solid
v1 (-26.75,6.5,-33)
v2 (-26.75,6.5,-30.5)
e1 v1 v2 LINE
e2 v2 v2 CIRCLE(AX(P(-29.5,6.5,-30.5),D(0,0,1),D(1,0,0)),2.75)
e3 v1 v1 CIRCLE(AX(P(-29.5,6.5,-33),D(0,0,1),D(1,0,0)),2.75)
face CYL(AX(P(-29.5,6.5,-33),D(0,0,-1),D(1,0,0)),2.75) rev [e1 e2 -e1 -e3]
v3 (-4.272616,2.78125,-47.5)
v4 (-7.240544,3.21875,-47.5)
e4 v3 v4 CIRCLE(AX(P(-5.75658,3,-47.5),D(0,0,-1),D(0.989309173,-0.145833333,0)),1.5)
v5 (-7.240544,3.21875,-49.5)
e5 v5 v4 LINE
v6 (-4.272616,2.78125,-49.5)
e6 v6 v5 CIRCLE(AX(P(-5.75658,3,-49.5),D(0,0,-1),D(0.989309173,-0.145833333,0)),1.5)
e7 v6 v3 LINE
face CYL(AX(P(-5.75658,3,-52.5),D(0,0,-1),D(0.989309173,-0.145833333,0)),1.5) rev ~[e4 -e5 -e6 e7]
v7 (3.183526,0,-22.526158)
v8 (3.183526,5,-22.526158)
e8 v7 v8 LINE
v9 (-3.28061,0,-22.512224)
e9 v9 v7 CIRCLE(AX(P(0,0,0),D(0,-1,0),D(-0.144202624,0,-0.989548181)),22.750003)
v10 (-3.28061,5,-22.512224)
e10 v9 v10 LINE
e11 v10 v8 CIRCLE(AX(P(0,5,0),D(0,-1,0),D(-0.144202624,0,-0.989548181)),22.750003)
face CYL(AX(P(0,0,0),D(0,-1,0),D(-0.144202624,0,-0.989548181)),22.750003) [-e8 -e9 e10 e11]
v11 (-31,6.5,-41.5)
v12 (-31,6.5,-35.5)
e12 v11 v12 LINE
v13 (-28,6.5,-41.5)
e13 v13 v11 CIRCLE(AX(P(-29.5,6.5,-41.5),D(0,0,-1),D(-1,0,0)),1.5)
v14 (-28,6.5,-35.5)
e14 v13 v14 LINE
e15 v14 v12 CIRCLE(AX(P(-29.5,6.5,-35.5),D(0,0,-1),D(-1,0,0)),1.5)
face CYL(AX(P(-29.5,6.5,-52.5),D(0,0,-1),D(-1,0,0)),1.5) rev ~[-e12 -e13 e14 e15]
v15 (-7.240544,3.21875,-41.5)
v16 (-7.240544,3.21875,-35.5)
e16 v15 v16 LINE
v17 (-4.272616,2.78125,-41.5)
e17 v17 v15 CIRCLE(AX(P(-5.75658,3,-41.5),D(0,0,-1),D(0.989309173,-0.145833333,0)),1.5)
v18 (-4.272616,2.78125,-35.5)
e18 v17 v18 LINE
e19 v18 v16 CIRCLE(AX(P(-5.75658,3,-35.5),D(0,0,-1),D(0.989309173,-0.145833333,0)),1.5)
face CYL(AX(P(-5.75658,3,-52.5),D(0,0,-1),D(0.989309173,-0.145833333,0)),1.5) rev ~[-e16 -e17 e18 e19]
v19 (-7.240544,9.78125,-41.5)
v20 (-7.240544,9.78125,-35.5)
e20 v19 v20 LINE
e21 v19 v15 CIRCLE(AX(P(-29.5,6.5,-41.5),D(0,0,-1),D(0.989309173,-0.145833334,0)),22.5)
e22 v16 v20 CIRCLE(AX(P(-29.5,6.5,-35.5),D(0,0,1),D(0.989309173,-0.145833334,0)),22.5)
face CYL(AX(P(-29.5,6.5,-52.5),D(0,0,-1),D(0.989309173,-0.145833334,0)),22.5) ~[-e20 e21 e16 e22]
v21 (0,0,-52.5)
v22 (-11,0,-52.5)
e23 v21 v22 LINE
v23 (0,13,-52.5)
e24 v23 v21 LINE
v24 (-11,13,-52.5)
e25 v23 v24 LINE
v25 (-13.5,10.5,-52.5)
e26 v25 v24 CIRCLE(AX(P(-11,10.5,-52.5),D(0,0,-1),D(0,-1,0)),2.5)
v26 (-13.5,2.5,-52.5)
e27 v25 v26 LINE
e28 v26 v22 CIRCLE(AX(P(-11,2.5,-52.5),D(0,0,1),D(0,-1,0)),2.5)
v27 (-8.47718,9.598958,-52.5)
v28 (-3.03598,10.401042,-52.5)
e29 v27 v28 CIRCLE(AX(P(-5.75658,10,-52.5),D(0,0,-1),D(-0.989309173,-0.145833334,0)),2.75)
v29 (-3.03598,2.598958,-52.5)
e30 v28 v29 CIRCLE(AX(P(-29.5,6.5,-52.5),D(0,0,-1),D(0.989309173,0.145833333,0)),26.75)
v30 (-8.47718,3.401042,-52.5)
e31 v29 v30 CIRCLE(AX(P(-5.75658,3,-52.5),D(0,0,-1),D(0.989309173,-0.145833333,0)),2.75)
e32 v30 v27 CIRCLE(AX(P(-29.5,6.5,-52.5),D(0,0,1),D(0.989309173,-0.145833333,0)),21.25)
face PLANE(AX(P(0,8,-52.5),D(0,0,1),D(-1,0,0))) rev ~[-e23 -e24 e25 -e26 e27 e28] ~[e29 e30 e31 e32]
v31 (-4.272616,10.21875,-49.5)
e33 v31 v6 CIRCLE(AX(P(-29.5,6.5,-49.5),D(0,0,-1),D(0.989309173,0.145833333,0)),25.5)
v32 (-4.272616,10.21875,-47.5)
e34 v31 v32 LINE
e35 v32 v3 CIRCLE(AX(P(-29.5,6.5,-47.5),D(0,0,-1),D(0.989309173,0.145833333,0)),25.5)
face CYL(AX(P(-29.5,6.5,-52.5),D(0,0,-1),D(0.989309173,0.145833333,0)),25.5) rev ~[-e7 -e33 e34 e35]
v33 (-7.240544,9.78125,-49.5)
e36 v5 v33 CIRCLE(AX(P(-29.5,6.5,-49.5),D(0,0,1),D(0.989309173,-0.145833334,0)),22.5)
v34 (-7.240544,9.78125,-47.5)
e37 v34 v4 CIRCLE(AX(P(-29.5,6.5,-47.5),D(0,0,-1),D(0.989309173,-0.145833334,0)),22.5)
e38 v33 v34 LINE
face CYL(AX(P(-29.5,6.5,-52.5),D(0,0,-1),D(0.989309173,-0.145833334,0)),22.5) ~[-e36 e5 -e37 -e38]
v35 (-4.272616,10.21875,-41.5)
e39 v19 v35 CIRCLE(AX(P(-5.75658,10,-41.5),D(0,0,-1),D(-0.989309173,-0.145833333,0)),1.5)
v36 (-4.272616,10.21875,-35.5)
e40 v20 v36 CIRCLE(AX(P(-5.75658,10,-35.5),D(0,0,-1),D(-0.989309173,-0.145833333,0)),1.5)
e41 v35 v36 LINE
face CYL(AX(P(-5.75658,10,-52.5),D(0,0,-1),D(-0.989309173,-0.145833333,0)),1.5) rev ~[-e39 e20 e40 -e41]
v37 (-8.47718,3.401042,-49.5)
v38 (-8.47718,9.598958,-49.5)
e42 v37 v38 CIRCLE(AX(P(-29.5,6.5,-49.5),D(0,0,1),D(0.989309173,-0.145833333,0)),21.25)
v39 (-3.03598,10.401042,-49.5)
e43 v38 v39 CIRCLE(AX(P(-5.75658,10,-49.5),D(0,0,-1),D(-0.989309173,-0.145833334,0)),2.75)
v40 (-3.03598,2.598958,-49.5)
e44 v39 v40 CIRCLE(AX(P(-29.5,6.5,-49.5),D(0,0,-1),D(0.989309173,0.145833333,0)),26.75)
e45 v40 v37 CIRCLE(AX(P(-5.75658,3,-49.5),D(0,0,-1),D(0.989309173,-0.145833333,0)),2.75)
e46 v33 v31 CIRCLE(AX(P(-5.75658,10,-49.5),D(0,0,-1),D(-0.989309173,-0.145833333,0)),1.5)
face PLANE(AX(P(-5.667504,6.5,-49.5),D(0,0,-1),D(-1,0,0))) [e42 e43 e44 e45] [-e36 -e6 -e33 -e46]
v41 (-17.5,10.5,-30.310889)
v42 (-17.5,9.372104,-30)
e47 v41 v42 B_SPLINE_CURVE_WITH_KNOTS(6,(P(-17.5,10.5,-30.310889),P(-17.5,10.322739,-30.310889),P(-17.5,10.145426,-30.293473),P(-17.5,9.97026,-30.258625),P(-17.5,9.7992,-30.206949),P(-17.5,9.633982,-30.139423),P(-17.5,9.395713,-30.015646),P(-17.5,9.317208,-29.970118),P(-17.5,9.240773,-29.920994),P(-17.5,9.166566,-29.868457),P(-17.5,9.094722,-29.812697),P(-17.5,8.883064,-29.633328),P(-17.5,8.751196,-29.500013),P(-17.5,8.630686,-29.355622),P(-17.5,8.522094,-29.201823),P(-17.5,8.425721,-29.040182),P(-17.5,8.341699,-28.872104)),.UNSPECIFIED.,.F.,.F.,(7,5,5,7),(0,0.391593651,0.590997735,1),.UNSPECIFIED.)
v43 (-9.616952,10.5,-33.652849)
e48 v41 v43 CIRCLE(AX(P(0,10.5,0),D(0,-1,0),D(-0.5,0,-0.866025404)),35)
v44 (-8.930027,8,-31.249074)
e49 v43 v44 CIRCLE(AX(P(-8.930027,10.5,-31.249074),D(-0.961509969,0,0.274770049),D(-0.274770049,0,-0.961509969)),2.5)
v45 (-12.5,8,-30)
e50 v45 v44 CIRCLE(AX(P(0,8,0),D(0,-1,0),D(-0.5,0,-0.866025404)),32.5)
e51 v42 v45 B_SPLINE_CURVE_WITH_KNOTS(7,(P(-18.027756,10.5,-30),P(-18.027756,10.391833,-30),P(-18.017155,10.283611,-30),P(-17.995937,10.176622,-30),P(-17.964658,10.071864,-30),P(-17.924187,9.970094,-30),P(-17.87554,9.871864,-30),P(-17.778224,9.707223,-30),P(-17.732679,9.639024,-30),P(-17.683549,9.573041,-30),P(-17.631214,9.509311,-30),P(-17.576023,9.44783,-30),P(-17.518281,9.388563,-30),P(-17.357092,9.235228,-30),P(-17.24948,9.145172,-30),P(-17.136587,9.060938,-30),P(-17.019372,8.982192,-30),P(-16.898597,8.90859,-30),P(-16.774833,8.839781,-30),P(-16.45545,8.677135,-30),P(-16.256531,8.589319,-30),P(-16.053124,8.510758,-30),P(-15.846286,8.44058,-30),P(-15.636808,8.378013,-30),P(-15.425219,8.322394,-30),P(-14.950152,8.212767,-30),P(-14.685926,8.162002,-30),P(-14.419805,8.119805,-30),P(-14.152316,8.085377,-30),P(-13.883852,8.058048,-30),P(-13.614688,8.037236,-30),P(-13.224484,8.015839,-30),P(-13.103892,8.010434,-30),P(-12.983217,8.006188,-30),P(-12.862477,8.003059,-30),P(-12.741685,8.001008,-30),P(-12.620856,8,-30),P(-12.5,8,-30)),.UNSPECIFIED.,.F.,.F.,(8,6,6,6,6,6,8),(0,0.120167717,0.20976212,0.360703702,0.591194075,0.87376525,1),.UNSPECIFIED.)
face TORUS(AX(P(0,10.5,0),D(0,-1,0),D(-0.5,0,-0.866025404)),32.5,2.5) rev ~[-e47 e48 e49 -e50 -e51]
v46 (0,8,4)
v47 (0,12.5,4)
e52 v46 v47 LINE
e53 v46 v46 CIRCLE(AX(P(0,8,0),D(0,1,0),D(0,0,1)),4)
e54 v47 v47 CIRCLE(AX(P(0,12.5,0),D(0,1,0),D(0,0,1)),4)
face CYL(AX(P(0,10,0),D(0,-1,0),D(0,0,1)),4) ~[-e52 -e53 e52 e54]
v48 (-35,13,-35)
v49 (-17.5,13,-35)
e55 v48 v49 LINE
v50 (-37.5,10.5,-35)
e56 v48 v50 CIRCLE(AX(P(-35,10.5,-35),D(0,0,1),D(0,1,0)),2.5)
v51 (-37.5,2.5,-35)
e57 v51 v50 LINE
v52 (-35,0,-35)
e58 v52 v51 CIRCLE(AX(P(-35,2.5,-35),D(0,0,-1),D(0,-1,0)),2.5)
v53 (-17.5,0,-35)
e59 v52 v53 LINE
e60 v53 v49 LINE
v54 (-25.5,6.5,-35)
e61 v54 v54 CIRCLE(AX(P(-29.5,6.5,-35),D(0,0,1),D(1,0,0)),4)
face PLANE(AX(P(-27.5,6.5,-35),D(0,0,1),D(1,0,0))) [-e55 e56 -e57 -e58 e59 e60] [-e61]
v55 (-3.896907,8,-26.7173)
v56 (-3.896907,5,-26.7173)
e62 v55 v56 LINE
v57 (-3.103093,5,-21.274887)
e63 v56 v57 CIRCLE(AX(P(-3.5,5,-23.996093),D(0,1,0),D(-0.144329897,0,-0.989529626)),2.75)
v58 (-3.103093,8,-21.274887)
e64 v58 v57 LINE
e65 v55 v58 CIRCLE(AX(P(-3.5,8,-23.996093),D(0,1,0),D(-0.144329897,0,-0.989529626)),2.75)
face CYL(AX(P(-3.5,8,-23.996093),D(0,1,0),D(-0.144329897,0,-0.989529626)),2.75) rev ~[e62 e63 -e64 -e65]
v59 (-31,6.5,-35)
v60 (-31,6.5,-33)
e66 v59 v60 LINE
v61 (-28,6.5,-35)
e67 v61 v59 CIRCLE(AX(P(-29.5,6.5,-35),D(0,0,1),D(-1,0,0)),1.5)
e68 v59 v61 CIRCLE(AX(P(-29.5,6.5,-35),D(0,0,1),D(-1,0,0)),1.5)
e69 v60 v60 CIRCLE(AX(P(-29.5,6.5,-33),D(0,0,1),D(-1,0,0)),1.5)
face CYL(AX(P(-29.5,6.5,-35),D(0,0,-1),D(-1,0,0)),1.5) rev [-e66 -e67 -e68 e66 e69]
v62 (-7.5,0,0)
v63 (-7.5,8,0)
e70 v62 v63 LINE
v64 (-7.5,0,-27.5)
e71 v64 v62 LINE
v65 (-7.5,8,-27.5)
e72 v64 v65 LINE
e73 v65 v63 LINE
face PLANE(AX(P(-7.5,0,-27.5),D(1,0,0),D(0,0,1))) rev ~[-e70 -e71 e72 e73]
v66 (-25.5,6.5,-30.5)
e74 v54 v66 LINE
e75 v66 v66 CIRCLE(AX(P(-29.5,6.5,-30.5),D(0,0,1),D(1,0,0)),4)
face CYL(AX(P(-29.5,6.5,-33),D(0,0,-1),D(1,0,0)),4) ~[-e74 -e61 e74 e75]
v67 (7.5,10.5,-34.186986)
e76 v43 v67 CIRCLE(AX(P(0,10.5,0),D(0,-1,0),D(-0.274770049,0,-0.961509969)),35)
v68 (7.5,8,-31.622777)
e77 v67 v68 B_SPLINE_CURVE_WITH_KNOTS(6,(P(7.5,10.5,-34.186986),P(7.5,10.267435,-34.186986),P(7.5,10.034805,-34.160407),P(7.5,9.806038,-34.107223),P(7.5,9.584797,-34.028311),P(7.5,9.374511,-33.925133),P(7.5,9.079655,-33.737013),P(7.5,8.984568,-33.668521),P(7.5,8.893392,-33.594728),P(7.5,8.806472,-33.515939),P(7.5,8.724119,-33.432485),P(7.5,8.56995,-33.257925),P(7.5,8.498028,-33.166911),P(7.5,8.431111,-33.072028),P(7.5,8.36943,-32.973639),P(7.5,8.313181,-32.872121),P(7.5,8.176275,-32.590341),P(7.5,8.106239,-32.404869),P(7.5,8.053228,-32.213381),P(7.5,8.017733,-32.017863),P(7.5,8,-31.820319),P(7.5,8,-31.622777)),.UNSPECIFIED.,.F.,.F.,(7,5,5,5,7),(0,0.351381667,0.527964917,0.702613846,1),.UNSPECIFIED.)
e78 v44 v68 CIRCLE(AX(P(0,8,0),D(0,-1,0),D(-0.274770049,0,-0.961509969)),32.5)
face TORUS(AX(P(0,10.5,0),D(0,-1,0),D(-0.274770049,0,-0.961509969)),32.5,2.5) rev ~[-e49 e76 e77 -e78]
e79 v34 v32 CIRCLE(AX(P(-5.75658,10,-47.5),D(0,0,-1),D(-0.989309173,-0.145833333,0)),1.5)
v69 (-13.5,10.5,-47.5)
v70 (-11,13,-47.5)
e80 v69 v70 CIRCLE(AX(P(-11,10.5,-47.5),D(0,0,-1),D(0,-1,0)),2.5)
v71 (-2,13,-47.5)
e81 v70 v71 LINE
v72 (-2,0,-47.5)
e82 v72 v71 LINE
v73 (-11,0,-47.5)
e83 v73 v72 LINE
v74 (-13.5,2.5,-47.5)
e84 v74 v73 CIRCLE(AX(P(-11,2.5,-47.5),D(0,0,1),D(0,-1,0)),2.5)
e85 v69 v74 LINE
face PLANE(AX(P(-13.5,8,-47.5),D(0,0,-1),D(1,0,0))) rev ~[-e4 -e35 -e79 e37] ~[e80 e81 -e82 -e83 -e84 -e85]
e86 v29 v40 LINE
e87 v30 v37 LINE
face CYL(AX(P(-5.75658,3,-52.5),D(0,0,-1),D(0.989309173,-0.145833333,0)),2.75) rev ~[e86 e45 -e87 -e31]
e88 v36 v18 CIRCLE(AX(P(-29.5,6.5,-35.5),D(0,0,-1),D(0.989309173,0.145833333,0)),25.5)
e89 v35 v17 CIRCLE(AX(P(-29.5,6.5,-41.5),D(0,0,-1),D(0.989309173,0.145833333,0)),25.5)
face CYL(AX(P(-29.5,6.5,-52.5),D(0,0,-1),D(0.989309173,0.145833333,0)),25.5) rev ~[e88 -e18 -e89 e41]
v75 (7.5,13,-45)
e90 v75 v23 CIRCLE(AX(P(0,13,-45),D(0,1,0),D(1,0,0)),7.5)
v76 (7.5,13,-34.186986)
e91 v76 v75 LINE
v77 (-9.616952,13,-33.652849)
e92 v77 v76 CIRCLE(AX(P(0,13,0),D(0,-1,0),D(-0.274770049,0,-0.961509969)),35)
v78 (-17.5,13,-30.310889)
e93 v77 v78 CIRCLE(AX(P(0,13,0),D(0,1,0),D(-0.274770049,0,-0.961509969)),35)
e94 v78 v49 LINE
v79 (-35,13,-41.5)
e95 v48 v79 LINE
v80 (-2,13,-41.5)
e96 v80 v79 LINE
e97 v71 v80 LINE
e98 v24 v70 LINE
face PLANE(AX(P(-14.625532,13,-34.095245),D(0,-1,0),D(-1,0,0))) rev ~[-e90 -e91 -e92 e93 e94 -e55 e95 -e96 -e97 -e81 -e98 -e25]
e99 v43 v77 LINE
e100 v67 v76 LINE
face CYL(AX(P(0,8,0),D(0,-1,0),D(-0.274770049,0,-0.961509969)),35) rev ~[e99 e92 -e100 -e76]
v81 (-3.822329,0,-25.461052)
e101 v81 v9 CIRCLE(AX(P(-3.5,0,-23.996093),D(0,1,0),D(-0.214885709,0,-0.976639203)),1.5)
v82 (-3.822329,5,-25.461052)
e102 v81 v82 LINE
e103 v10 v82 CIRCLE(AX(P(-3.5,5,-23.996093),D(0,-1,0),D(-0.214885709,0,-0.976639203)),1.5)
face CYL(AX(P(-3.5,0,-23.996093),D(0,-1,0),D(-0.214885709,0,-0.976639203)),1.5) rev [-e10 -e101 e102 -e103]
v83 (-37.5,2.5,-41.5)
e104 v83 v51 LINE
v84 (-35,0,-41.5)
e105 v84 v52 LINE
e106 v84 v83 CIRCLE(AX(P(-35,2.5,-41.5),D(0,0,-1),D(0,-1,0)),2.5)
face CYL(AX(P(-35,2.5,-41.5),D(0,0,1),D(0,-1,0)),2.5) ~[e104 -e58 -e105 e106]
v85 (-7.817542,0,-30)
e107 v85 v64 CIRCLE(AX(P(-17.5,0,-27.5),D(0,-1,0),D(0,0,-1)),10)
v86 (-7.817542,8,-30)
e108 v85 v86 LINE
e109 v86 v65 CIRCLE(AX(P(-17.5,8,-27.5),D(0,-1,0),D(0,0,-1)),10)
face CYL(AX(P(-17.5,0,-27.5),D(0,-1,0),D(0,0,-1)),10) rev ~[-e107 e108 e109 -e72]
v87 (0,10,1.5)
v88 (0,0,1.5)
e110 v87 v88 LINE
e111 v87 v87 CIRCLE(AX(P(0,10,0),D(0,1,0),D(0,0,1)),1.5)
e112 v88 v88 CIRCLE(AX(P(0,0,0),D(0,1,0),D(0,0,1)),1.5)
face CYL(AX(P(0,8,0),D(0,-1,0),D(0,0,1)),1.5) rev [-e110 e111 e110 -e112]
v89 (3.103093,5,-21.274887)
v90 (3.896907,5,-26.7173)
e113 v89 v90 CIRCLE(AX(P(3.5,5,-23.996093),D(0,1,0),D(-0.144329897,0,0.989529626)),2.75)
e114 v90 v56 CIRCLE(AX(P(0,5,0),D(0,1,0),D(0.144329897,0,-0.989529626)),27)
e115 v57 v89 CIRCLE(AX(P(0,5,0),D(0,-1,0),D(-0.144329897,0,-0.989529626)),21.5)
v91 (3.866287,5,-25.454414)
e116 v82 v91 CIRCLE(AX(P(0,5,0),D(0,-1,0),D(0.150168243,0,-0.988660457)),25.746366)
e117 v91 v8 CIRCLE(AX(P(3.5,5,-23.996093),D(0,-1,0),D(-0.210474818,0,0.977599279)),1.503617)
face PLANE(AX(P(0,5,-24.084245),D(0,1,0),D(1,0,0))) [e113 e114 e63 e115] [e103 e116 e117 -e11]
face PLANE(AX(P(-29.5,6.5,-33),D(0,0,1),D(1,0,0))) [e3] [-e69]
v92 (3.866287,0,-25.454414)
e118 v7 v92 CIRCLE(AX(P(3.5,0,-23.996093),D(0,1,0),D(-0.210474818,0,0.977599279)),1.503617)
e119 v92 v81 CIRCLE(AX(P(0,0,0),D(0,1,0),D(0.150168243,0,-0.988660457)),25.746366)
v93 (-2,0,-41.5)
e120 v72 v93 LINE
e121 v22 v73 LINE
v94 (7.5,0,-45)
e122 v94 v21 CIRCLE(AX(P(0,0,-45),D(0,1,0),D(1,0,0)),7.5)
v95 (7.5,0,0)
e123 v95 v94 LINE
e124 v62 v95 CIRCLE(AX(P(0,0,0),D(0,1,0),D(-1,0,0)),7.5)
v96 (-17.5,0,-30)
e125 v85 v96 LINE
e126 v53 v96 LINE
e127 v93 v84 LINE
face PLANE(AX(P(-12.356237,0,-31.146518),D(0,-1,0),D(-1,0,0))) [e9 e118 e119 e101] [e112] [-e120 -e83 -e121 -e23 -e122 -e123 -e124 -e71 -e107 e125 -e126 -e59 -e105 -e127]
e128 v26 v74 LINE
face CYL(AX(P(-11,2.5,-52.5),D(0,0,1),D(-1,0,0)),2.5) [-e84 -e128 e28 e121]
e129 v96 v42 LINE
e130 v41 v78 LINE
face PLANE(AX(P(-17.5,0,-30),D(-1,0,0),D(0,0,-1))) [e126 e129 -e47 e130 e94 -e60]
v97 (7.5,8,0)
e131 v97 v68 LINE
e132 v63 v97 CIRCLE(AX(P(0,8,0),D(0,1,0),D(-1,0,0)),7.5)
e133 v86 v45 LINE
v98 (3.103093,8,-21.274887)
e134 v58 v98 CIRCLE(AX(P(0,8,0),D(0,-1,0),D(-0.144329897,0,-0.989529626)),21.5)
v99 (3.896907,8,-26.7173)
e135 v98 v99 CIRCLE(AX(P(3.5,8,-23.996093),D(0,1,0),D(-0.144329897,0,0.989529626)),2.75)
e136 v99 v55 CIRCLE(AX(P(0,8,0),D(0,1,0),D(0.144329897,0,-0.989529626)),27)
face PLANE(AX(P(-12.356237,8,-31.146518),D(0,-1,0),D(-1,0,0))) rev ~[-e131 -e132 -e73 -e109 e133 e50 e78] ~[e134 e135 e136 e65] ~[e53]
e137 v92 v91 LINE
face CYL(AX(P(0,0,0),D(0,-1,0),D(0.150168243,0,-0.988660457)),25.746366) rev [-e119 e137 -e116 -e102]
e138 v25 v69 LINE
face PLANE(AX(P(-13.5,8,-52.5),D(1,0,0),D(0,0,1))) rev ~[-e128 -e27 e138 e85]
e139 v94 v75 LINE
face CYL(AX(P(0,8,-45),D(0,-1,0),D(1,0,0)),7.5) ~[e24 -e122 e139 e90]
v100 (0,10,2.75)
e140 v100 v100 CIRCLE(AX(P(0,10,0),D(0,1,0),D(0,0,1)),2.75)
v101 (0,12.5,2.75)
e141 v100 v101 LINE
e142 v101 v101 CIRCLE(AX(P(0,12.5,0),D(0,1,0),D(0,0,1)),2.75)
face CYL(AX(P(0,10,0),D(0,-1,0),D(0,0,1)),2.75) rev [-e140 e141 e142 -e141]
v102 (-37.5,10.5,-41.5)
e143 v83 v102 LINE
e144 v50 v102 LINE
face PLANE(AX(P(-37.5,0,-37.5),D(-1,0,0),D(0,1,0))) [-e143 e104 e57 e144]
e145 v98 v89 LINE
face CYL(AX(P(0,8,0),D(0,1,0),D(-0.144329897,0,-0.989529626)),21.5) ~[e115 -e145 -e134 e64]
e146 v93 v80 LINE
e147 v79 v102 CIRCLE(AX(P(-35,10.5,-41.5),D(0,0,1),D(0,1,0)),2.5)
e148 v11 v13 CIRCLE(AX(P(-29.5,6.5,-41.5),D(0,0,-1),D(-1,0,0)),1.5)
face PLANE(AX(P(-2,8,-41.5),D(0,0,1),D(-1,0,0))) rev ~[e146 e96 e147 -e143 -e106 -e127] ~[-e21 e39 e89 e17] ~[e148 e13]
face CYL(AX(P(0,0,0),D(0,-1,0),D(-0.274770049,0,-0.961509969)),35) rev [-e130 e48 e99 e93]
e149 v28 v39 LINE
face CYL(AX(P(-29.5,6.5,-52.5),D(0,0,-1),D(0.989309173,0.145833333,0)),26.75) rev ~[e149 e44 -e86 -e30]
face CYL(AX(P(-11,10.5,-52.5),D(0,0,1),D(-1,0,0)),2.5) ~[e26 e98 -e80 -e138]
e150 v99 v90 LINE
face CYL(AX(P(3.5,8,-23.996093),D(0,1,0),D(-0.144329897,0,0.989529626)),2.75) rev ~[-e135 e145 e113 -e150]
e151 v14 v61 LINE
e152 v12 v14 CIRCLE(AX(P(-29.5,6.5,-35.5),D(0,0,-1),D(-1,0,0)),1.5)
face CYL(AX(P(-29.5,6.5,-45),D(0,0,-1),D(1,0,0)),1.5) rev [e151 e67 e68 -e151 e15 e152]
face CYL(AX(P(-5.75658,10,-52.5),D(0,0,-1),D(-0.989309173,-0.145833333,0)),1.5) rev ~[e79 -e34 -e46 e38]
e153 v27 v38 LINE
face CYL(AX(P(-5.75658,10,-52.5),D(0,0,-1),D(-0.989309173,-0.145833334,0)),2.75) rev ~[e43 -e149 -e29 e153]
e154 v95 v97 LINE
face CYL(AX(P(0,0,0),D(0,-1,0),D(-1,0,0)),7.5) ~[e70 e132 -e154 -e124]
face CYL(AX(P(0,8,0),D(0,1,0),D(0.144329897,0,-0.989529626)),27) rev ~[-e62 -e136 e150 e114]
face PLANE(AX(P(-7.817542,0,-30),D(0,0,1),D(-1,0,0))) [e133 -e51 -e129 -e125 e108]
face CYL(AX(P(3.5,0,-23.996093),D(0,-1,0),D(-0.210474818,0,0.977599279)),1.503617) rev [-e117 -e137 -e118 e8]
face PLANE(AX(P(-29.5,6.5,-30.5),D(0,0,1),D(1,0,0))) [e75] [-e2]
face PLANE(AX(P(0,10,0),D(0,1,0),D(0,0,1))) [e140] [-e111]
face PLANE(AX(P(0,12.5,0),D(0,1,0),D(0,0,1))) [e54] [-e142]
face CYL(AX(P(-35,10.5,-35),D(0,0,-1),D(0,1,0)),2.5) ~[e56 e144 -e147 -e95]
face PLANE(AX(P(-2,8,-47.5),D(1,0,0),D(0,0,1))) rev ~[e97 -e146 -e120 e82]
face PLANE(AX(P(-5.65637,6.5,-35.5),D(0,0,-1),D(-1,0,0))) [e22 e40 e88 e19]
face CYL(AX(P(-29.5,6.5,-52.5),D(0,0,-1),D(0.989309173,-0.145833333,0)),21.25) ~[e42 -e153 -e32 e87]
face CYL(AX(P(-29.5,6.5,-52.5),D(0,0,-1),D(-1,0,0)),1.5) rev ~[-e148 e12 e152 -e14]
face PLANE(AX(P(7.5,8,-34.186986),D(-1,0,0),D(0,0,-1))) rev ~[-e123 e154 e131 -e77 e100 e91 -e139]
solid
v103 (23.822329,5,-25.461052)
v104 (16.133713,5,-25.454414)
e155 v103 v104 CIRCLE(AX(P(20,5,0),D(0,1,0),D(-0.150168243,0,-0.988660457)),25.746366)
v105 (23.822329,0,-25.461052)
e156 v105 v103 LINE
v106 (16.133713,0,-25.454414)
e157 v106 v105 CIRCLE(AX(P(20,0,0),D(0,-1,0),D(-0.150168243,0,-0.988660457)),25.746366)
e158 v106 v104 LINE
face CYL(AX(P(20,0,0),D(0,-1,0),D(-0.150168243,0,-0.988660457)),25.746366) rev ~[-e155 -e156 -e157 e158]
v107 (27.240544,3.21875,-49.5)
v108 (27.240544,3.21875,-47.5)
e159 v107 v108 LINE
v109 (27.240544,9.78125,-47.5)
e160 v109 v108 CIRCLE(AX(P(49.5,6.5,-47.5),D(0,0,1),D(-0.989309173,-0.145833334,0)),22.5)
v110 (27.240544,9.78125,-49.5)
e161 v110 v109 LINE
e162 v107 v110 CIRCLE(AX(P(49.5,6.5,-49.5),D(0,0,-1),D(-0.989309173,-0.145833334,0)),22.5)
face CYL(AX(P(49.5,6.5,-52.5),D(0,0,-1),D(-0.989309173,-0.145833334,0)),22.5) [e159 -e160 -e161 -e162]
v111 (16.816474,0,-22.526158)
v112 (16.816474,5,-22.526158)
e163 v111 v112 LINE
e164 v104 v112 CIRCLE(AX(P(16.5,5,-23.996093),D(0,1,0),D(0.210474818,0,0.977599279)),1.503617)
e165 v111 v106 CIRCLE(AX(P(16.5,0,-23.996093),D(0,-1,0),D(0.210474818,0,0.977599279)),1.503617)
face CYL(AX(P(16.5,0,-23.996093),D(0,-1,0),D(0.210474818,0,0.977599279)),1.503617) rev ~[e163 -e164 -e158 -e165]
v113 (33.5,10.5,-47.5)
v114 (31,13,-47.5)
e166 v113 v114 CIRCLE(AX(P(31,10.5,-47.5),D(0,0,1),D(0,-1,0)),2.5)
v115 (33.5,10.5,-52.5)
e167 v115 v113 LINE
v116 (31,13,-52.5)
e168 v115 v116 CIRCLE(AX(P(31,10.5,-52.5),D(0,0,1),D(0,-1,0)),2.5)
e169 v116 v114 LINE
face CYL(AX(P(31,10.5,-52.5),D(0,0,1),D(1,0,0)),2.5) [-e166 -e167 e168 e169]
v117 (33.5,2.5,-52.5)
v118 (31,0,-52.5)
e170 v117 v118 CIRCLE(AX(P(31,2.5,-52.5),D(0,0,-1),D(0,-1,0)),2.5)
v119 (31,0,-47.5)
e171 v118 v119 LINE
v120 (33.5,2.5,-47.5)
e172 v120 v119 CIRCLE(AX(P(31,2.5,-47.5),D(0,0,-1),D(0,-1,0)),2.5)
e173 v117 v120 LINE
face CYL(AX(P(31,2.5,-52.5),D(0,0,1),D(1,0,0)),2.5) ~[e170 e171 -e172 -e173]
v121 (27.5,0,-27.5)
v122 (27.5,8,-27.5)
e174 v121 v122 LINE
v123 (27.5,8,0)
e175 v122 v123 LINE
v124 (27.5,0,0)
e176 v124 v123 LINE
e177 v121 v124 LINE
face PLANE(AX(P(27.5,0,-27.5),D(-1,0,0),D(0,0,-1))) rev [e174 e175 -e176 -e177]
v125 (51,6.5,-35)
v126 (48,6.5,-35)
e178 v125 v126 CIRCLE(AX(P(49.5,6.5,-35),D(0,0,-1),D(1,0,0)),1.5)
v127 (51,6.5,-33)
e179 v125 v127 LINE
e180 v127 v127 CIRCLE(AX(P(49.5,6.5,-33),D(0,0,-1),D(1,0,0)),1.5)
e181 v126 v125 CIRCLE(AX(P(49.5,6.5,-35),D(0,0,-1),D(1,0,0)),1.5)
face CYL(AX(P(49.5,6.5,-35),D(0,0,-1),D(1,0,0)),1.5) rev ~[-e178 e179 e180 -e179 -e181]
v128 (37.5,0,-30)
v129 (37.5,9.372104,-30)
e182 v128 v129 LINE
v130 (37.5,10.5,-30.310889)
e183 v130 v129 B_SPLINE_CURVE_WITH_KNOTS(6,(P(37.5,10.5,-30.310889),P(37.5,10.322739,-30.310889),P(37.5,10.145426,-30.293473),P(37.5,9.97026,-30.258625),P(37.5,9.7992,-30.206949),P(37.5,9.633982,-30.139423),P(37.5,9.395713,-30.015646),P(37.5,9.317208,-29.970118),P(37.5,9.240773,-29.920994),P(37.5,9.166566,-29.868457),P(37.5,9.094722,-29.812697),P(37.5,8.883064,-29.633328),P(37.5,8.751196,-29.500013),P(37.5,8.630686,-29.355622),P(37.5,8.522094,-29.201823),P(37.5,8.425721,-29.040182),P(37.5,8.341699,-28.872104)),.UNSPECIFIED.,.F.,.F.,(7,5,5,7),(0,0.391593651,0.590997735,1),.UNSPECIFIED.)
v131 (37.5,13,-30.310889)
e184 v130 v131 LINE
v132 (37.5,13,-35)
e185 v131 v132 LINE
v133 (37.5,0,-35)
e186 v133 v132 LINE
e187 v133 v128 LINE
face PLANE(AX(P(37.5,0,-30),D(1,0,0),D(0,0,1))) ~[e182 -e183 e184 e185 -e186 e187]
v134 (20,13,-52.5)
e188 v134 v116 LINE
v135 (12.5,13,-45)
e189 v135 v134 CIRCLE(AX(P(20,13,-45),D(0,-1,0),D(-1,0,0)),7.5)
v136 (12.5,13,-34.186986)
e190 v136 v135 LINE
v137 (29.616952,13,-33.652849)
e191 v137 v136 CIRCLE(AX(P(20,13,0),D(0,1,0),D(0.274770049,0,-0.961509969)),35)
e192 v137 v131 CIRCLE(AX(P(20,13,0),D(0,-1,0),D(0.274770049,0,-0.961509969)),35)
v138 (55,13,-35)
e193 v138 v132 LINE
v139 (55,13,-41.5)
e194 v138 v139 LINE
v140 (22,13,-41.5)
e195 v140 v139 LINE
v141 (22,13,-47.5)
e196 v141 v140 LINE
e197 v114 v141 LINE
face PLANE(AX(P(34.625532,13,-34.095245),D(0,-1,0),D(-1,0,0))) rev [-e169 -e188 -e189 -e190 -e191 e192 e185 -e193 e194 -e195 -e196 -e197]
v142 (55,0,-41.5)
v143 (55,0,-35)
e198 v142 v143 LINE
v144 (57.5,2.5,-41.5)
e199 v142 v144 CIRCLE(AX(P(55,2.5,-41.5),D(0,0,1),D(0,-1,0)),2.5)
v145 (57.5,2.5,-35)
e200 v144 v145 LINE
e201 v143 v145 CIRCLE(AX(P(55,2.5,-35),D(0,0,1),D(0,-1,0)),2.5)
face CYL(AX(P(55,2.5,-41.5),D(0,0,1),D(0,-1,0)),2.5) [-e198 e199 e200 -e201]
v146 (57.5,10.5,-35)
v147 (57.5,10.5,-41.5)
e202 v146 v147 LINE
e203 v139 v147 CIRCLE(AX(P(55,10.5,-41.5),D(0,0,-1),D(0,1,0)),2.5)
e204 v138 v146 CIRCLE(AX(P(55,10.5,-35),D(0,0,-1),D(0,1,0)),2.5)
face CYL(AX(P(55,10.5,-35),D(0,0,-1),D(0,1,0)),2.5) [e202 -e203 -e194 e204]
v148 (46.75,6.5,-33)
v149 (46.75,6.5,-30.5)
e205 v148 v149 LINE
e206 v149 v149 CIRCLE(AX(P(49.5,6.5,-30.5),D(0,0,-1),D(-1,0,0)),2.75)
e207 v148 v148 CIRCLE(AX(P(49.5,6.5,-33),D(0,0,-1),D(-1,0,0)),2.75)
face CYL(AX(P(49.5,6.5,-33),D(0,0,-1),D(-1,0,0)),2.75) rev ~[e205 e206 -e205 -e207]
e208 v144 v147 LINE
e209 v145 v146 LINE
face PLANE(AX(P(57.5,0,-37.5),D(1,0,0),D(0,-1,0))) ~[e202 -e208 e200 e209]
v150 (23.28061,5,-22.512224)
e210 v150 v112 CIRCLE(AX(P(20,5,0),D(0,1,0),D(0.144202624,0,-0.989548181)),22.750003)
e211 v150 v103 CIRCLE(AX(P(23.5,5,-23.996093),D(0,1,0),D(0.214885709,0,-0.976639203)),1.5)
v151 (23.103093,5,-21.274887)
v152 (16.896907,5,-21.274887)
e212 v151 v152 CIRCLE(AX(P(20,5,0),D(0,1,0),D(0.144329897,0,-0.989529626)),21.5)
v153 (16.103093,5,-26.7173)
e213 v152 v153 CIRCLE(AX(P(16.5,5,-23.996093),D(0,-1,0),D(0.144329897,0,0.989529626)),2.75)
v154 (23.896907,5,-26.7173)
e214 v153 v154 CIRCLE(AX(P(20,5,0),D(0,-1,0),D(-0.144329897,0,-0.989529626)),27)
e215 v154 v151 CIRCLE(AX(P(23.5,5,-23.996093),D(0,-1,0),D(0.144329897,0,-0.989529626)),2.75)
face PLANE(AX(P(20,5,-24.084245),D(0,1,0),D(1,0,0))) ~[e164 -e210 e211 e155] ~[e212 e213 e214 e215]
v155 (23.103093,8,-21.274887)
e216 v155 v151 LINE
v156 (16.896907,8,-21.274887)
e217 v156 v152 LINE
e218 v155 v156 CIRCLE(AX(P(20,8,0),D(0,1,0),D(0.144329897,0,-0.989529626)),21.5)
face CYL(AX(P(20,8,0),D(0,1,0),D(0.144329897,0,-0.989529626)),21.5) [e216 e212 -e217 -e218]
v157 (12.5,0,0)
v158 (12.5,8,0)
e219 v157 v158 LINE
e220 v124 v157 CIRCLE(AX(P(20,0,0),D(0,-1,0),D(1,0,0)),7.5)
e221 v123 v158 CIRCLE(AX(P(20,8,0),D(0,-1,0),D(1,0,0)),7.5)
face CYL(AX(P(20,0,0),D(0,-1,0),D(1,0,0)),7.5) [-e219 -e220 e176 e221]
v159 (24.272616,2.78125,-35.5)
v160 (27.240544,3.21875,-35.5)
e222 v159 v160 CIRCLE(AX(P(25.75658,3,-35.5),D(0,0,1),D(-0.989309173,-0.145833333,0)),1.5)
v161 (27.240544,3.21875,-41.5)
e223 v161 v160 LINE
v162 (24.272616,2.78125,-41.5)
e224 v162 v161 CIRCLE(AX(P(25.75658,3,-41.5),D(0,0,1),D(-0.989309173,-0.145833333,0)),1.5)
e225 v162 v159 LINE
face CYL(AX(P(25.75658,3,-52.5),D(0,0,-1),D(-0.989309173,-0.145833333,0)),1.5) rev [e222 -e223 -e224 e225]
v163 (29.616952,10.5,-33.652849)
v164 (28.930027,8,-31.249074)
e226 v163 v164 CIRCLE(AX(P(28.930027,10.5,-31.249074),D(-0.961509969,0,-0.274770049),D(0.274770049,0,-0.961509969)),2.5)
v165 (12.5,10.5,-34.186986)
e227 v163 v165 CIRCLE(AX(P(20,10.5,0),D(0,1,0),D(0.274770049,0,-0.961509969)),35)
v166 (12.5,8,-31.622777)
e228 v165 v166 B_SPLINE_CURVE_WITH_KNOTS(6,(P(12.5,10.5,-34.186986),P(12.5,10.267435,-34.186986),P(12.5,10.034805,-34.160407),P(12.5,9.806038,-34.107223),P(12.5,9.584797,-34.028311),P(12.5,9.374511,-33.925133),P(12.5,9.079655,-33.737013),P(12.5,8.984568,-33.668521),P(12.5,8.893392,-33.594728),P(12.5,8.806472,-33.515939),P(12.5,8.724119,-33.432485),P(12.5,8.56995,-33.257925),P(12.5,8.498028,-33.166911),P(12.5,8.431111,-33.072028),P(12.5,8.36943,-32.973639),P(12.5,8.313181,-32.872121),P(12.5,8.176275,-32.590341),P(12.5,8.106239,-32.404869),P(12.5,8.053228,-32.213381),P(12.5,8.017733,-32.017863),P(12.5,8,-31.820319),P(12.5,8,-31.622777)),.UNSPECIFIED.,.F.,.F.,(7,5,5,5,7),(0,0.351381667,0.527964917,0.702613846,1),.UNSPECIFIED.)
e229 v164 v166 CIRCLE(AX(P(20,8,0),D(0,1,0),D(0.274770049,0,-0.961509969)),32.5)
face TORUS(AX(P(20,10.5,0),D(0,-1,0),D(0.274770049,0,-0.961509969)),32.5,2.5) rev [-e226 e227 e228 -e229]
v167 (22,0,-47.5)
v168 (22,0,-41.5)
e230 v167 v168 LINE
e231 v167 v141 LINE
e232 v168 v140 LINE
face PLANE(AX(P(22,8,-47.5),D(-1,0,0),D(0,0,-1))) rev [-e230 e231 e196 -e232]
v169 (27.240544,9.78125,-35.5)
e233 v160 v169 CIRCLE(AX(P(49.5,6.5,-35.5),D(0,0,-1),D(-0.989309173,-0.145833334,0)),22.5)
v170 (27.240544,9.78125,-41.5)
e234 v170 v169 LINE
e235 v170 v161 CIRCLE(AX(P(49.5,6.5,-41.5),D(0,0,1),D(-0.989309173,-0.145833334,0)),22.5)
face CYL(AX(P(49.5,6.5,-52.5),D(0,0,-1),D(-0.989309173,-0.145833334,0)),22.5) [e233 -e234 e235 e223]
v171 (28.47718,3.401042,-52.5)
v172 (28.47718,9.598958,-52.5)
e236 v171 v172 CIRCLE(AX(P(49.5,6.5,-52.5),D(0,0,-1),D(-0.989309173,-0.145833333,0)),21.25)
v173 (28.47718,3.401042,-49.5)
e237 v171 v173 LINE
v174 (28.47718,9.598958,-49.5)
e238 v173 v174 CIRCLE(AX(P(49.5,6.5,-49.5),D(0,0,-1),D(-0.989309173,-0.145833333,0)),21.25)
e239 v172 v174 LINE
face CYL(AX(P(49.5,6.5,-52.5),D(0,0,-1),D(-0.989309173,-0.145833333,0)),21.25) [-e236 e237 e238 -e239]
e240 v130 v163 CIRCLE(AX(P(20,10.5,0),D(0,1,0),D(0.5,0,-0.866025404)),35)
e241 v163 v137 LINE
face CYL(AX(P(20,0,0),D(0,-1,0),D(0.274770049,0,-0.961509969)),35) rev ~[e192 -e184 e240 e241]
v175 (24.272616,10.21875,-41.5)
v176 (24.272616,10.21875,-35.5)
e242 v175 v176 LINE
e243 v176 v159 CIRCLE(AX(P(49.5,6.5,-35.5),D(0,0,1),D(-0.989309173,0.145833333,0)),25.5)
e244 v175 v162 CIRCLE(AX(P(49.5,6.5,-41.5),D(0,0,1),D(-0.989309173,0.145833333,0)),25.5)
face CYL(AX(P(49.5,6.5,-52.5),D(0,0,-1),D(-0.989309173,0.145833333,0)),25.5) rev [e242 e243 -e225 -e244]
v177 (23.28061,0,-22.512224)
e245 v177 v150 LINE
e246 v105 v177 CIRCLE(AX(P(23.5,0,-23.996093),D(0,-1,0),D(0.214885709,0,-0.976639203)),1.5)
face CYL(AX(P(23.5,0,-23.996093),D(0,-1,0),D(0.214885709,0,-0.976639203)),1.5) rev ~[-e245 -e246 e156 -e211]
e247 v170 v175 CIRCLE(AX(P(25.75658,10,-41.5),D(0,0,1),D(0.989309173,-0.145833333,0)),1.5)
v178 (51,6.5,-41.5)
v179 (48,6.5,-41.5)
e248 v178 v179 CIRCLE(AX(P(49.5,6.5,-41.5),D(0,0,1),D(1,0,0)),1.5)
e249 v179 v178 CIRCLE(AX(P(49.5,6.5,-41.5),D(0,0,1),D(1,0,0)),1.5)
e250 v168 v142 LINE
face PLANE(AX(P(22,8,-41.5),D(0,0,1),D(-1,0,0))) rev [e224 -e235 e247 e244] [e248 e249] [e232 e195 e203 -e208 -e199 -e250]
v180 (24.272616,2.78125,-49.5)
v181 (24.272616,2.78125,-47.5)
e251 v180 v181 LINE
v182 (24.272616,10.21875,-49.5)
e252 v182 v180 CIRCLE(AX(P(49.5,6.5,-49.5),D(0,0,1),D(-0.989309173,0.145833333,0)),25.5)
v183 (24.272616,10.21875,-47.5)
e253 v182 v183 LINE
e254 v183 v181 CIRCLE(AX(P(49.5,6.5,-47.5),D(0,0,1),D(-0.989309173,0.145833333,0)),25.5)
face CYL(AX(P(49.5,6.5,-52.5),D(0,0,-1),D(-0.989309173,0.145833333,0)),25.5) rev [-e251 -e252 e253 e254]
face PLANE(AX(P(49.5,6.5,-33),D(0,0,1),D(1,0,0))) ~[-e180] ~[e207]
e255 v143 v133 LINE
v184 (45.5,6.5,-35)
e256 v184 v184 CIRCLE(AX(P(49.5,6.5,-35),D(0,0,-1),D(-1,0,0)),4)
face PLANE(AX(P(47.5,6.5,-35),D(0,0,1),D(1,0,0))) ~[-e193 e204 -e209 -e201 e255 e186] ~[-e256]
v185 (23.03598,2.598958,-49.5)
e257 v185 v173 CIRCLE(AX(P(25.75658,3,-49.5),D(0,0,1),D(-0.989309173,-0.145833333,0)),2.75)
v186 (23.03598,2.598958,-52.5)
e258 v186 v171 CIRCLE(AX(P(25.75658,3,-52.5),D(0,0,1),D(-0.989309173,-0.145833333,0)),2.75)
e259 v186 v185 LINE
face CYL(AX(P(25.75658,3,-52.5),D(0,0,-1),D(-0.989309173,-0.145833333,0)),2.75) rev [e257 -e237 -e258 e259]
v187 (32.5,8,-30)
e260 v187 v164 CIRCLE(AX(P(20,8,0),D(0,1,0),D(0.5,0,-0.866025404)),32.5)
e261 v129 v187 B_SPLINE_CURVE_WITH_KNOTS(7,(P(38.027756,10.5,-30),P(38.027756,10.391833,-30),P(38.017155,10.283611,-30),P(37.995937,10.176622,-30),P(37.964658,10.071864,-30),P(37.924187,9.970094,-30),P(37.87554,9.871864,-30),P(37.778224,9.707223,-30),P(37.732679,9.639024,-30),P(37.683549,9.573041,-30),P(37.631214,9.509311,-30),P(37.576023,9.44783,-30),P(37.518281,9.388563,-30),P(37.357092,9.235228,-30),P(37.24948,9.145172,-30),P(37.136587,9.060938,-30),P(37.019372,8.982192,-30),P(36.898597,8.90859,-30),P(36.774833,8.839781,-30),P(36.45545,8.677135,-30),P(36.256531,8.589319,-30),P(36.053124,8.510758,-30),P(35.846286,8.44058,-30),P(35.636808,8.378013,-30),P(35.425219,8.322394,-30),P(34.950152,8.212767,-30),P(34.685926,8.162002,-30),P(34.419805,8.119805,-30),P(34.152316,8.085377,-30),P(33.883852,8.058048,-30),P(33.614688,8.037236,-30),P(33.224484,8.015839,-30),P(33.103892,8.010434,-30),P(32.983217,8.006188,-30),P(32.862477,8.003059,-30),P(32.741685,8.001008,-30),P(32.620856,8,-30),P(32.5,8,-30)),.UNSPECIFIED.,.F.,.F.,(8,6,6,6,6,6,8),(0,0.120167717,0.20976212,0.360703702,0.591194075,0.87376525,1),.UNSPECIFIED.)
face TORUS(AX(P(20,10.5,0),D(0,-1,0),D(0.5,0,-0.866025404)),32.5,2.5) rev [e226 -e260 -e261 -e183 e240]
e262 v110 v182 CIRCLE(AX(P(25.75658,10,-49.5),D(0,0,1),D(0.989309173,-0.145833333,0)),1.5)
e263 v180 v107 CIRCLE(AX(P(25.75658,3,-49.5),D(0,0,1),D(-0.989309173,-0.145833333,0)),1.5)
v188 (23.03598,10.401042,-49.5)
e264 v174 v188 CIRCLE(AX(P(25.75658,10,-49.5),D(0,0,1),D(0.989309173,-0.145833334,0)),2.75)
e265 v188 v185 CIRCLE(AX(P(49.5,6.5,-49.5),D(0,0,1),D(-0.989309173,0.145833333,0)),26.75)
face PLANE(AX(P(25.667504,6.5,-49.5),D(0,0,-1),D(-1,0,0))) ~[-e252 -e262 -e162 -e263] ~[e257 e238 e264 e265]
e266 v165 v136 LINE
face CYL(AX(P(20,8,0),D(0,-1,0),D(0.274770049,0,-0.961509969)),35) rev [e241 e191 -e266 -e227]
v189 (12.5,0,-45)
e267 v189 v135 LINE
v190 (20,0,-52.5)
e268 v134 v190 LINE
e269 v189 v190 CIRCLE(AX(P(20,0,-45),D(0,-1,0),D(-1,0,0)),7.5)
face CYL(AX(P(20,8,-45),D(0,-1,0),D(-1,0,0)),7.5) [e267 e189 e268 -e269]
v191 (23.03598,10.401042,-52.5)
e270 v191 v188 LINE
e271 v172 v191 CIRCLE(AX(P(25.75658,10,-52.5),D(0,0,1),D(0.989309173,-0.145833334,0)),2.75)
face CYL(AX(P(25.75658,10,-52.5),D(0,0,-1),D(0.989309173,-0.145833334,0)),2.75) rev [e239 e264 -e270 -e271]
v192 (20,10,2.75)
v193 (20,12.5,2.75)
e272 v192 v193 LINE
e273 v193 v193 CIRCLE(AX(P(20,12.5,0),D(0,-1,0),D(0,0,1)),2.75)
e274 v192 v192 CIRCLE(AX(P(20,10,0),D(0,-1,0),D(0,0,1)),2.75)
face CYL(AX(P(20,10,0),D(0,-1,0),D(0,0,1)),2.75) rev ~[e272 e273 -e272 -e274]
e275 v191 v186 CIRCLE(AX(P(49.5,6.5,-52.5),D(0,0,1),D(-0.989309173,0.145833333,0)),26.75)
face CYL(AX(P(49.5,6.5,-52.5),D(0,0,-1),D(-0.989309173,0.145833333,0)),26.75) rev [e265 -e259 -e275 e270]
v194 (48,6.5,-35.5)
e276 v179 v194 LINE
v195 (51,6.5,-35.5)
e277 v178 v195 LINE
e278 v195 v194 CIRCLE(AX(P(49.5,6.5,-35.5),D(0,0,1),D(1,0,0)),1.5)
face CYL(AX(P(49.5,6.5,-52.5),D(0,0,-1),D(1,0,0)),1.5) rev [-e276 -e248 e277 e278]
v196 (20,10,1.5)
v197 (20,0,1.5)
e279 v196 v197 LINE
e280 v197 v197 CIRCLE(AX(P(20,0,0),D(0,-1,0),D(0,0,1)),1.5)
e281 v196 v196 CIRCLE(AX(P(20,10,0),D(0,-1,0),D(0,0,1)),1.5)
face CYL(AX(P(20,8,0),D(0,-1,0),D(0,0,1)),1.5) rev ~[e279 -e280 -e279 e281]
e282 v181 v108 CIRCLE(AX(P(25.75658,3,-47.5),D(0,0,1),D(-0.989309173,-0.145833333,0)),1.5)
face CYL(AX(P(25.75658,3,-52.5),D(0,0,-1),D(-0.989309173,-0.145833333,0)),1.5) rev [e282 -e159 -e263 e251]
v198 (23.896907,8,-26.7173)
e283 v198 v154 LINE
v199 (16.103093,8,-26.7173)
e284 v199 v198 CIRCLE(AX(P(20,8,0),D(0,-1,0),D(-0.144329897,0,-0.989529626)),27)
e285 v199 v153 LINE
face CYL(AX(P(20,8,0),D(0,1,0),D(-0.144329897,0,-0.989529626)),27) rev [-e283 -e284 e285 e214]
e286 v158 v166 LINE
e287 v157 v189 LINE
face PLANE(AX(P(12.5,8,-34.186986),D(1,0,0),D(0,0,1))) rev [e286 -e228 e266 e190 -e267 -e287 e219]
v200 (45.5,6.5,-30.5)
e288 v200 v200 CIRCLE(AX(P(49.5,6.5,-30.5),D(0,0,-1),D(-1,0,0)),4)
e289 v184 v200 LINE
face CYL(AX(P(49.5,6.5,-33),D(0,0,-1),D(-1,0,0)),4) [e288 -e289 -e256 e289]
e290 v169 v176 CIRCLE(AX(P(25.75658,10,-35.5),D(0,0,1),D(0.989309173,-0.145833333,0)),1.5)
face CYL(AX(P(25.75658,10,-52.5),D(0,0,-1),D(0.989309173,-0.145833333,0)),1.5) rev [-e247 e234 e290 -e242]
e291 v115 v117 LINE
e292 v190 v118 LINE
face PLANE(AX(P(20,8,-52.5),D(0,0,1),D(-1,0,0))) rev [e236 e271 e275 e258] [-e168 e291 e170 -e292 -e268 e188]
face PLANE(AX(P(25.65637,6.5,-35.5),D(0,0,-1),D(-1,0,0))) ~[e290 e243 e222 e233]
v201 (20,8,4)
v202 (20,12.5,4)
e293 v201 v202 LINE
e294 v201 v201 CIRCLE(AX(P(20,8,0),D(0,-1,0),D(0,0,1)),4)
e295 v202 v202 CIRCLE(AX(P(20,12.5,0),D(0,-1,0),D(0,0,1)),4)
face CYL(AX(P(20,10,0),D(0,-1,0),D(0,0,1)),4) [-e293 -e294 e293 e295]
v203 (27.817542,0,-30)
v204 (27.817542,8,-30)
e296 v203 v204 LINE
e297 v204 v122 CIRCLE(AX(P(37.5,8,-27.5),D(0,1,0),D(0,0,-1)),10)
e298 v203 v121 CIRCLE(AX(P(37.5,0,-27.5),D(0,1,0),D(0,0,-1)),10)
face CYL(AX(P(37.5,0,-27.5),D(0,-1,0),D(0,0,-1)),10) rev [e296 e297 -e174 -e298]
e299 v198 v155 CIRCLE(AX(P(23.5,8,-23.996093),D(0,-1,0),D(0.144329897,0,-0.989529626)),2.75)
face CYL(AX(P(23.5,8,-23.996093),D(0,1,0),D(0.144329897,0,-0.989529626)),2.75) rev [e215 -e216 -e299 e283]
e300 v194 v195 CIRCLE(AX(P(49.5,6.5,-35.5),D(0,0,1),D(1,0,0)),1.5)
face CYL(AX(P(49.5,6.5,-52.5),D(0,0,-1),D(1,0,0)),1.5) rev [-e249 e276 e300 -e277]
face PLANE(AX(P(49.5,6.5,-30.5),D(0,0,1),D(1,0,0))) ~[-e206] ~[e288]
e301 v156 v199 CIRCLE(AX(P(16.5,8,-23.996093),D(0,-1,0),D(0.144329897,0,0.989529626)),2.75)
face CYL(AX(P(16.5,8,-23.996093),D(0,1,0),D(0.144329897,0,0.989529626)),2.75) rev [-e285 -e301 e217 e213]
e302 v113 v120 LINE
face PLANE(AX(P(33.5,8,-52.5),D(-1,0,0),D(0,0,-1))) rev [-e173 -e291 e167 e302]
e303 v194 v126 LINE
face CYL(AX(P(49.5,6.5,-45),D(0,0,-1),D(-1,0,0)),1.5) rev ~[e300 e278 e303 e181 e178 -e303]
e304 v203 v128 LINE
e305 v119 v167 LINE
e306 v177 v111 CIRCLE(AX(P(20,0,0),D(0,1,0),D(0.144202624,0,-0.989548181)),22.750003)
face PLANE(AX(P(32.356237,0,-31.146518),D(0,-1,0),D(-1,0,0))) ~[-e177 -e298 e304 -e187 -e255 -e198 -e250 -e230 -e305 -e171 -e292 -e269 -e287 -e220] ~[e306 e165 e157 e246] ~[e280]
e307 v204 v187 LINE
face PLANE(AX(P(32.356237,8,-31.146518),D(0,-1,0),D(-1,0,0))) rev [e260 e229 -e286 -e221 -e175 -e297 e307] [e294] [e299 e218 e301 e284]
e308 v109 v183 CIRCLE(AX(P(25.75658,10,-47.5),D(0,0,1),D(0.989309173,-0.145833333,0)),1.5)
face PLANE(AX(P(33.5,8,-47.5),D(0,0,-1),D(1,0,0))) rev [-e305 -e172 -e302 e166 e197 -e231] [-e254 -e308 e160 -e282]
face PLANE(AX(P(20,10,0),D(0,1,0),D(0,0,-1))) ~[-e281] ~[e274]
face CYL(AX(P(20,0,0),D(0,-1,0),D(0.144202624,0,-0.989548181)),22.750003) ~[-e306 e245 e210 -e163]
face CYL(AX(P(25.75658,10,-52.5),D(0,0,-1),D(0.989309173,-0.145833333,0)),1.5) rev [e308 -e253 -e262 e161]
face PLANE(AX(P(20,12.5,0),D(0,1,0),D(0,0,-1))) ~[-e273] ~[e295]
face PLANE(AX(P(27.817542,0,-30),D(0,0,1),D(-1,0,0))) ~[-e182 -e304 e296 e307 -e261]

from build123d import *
from build123d.topology import SkipClean

# Parameters (mm, degrees)
SKETCH1_R           = 1.5
BOSS_EXTRUDE1_DEPTH = 8
SKETCH2_R           = 4
SKETCH2_R_2         = 1.5
BOSS_EXTRUDE2_DEPTH = 2
SKETCH4_R           = 4
SKETCH4_R_2         = 2.75
BOSS_EXTRUDE3_DEPTH = 2.5
CUT_EXTRUDE1_DEPTH  = 3
BOSS_EXTRUDE4_DEPTH = 5
SKETCH12_W          = 20
SKETCH12_H          = 13
BOSS_EXTRUDE5_DEPTH = 2.5
BOSS_EXTRUDE6_DEPTH = 13
BOSS_EXTRUDE7_DEPTH = 8
SKETCH6_R           = 1.5
CUT_EXTRUDE5_DEPTH  = 17
SKETCH6_8_R         = 1.5
CUT_EXTRUDE6_DEPTH  = 3
SKETCH17_R          = 4
SKETCH17_R_2        = 1.5
BOSS_EXTRUDE8_DEPTH = 2
SKETCH18_R          = 4
SKETCH18_R_2        = 2.75
BOSS_EXTRUDE9_DEPTH = 2.5
FILLET3_R           = 2.5
CUT_EXTRUDE7_START  = -10
SKETCH21_R          = 1.5
CUT_EXTRUDE7_DEPTH  = 10


with BuildPart() as part:
    # Sketch1 → Boss-Extrude1 (new body)
    with BuildSketch(Plane(origin=(0, 0, 0), x_dir=(1, 0, 0), z_dir=(0, 1, 0))):
        with BuildLine():
            Line((-7.5, 41.5), (-37.5, 41.5))
            Line((-37.5, 41.5), (-37.5, 37.5))
            Line((-37.5, 37.5), (-17.5, 37.5))
            ThreePointArc((-17.5, 37.5), (-10.428932188, 34.571067812), (-7.5, 27.5))
            Line((-7.5, 27.5), (-7.5, 0))
            ThreePointArc((-7.5, 0), (0, -7.5), (7.5, 0))
            Line((7.5, 0), (7.5, 45))
            ThreePointArc((7.5, 45), (5.303300859, 50.303300859), (0, 52.5))
            Line((0, 52.5), (-13.5, 52.5))
            Line((-13.5, 52.5), (-13.5, 47.5))
            Line((-13.5, 47.5), (-2, 47.5))
            Line((-2, 47.5), (-2, 41.5))
            Line((-2, 41.5), (-7.5, 41.5))
        make_face()
        with Locations(Location((0, 0, 0), (0, 0, 270))):
            Circle(SKETCH1_R, mode=Mode.SUBTRACT)
        with BuildLine():
            ThreePointArc((-3.822328563, 25.461052236), (-4.975312132, 23.725069238), (-3.280610142, 22.512224135))
            ThreePointArc((-3.280610142, 22.512224135), (-0.049039296, 22.749950188), (3.183526389, 22.526158087))
            ThreePointArc((3.183526389, 22.526158087), (4.964339908, 23.654663936), (3.8662866, 25.454414245))
            ThreePointArc((3.8662866, 25.454414245), (0.022228203, 25.746356684), (-3.822328563, 25.461052236))
        make_face(mode=Mode.SUBTRACT)
    extrude(amount=BOSS_EXTRUDE1_DEPTH)

    # Sketch2 → Boss-Extrude2 (add)
    with BuildSketch(Plane(origin=(0, 8, 0), x_dir=(1, 0, 0), z_dir=(0, 1, 0))):
        with Locations(Location((0, 0, 0), (0, 0, 270))):
            Circle(SKETCH2_R)
        with Locations(Location((0, 0, 0), (0, 0, 270))):
            Circle(SKETCH2_R_2, mode=Mode.SUBTRACT)
    extrude(amount=BOSS_EXTRUDE2_DEPTH)

    # Sketch4 → Boss-Extrude3 (add)
    with BuildSketch(Plane(origin=(0, 10, 0), x_dir=(1, 0, 0), z_dir=(0, 1, 0))):
        with Locations(Location((0, 0, 0), (0, 0, 270))):
            Circle(SKETCH4_R)
        with Locations(Location((0, 0, 0), (0, 0, 270))):
            Circle(SKETCH4_R_2, mode=Mode.SUBTRACT)
    extrude(amount=BOSS_EXTRUDE3_DEPTH)

    # Sketch5 → Cut-Extrude1 (cut)
    with BuildSketch(Plane(origin=(0, 8, 0), x_dir=(1, 0, 0), z_dir=(0, 1, 0))):
        with BuildLine():
            ThreePointArc((-3.896907216, 26.717299904), (-6.221206472, 23.599186216), (-3.103092784, 21.27488696))
            ThreePointArc((-3.103092784, 21.27488696), (0, 21.5), (3.103092784, 21.27488696))
            ThreePointArc((3.103092784, 21.27488696), (6.221206472, 23.599186216), (3.896907216, 26.717299904))
            ThreePointArc((3.896907216, 26.717299904), (0, 27), (-3.896907216, 26.717299904))
        make_face()
    extrude(amount=-CUT_EXTRUDE1_DEPTH, mode=Mode.SUBTRACT)

    # Sketch11 → Boss-Extrude4 (add)
    with BuildSketch(Plane(origin=(0, 8, 0), x_dir=(1, 0, 0), z_dir=(0, 1, 0))):
        with BuildLine():
            Line((-13.5, 47.5), (-2, 47.5))
            Line((-2, 47.5), (-2, 41.5))
            Line((-2, 41.5), (-37.5, 41.5))
            Line((-37.5, 41.5), (-37.5, 37.5))
            Line((-37.5, 37.5), (-17.5, 37.5))
            ThreePointArc((-17.5, 37.5), (-13.114141424, 36.486892931), (-9.616951713, 33.65284891))
            ThreePointArc((-9.616951713, 33.65284891), (-1.091648616, 34.982971619), (7.5, 34.186985828))
            Line((7.5, 34.186985828), (7.5, 45))
            ThreePointArc((7.5, 45), (5.303300859, 50.303300859), (0, 52.5))
            Line((0, 52.5), (-13.5, 52.5))
            Line((-13.5, 52.5), (-13.5, 47.5))
        make_face()
    extrude(amount=BOSS_EXTRUDE4_DEPTH)

    # Sketch12 → Boss-Extrude5 (add)
    with BuildSketch(Plane.XY.offset(-37.5)):
        with Locations((-27.5, 6.5)):
            Rectangle(SKETCH12_W, SKETCH12_H)
    extrude(amount=BOSS_EXTRUDE5_DEPTH)

    # Sketch14 → Boss-Extrude6 (add)
    with BuildSketch(Plane(origin=(0, 0, 0), x_dir=(1, 0, 0), z_dir=(0, 1, 0))):
        with BuildLine():
            Line((-17.5, 30.310889132), (-17.5, 37.5))
            ThreePointArc((-17.5, 37.5), (-13.114141424, 36.486892931), (-9.616951713, 33.65284891))
            ThreePointArc((-9.616951713, 33.65284891), (-13.661055645, 32.223835257), (-17.5, 30.310889132))
        make_face()
    extrude(amount=BOSS_EXTRUDE6_DEPTH)

    # Sketch15 → Boss-Extrude7 (add)
    with BuildSketch(Plane(origin=(0, 0, 0), x_dir=(1, 0, 0), z_dir=(0, 1, 0))):
        with BuildLine():
            Line((-17.5, 30), (-17.5, 30.310889132))
            ThreePointArc((-17.5, 30.310889132), (-13.661055645, 32.223835257), (-9.616951713, 33.65284891))
            ThreePointArc((-9.616951713, 33.65284891), (-8.529348838, 31.918983788), (-7.817541634, 30))
            Line((-7.817541634, 30), (-17.5, 30))
        make_face()
    extrude(amount=BOSS_EXTRUDE7_DEPTH)

    # Sketch6 → Cut-Extrude5 (cut)
    with BuildSketch(Plane(origin=(0, 0, -52.5), x_dir=(-1, 0, 0), z_dir=(0, 0, -1))):
        with BuildLine():
            ThreePointArc((7.240543618, 9.78125), (5.975329859, 11.483963759), (4.2726161, 10.21875))
            ThreePointArc((4.2726161, 10.21875), (4, 6.5), (4.2726161, 2.78125))
            ThreePointArc((4.2726161, 2.78125), (5.975329859, 1.516036241), (7.240543618, 3.21875))
            ThreePointArc((7.240543618, 3.21875), (7, 6.5), (7.240543618, 9.78125))
        make_face()
        with Locations((29.5, 6.5)):
            Circle(SKETCH6_R)
    extrude(amount=-CUT_EXTRUDE5_DEPTH, mode=Mode.SUBTRACT)

    # Sketch6<8> → Cut-Extrude6 (cut)
    # profile 1 of 2: a face of its own
    with BuildSketch(Plane(origin=(0, 0, -52.5), x_dir=(-1, 0, 0), z_dir=(0, 0, -1))):
        with Locations((29.5, 6.5)):
            Circle(SKETCH6_8_R)
    # profile 2 of 2: a face of its own
    with BuildSketch(Plane(origin=(0, 0, -52.5), x_dir=(-1, 0, 0), z_dir=(0, 0, -1))):
        with BuildLine():
            ThreePointArc((8.477180083, 9.598958333), (6.157621525, 12.720600225), (3.035979634, 10.401041667))
            ThreePointArc((3.035979634, 10.401041667), (2.75, 6.5), (3.035979634, 2.598958333))
            ThreePointArc((3.035979634, 2.598958333), (6.157621525, 0.279399775), (8.477180083, 3.401041667))
            ThreePointArc((8.477180083, 3.401041667), (8.25, 6.5), (8.477180083, 9.598958333))
        make_face()
        with BuildLine():
            ThreePointArc((7.240543618, 9.78125), (5.975329859, 11.483963759), (4.2726161, 10.21875))
            ThreePointArc((4.2726161, 10.21875), (4, 6.5), (4.2726161, 2.78125))
            ThreePointArc((4.2726161, 2.78125), (5.975329859, 1.516036241), (7.240543618, 3.21875))
            ThreePointArc((7.240543618, 3.21875), (7, 6.5), (7.240543618, 9.78125))
        make_face(mode=Mode.SUBTRACT)
    extrude(amount=-CUT_EXTRUDE6_DEPTH, mode=Mode.SUBTRACT)

    # Sketch17 → Boss-Extrude8 (add)
    with BuildSketch(Plane.XY.offset(-35)):
        with Locations((-29.5, 6.5)):
            Circle(SKETCH17_R)
        with Locations(Location((-29.5, 6.5, 0), (0, 0, 180))):
            Circle(SKETCH17_R_2, mode=Mode.SUBTRACT)
    extrude(amount=BOSS_EXTRUDE8_DEPTH)

    # Sketch18 → Boss-Extrude9 (add)
    with BuildSketch(Plane.XY.offset(-33)):
        with Locations((-29.5, 6.5)):
            Circle(SKETCH18_R)
        with Locations((-29.5, 6.5)):
            Circle(SKETCH18_R_2, mode=Mode.SUBTRACT)
    extrude(amount=BOSS_EXTRUDE9_DEPTH)

    # Fillet3
    fillet3_edges = [part.edges().sort_by_distance(p)[0] for p in [
        (-13.5, 0, -50),
        (-13.5, 13, -50),
        (-37.5, 0, -38.25),
        (-37.5, 13, -38.25),
        (-5.362465049, 8, -34.586760019),
    ]]
    fillet(fillet3_edges, radius=FILLET3_R)

    # Sketch21 → Cut-Extrude7 (cut)
    with SkipClean():  # the faces are left unmerged after this step: merging them gives an invalid solid
        with BuildSketch(Plane.XY.offset(-35).offset(CUT_EXTRUDE7_START)):
            with Locations((-29.5, 6.5)):
                Circle(SKETCH21_R)
        extrude(amount=CUT_EXTRUDE7_DEPTH, mode=Mode.SUBTRACT)


with BuildPart() as body_2:
    # Mirror4: mirrored copy
    add(part.part.mirror(Plane(origin=(10, 0, 0), x_dir=(0, 0, 1), z_dir=(1, 0, 0))))


solid = Compound([part.part, body_2.part])
